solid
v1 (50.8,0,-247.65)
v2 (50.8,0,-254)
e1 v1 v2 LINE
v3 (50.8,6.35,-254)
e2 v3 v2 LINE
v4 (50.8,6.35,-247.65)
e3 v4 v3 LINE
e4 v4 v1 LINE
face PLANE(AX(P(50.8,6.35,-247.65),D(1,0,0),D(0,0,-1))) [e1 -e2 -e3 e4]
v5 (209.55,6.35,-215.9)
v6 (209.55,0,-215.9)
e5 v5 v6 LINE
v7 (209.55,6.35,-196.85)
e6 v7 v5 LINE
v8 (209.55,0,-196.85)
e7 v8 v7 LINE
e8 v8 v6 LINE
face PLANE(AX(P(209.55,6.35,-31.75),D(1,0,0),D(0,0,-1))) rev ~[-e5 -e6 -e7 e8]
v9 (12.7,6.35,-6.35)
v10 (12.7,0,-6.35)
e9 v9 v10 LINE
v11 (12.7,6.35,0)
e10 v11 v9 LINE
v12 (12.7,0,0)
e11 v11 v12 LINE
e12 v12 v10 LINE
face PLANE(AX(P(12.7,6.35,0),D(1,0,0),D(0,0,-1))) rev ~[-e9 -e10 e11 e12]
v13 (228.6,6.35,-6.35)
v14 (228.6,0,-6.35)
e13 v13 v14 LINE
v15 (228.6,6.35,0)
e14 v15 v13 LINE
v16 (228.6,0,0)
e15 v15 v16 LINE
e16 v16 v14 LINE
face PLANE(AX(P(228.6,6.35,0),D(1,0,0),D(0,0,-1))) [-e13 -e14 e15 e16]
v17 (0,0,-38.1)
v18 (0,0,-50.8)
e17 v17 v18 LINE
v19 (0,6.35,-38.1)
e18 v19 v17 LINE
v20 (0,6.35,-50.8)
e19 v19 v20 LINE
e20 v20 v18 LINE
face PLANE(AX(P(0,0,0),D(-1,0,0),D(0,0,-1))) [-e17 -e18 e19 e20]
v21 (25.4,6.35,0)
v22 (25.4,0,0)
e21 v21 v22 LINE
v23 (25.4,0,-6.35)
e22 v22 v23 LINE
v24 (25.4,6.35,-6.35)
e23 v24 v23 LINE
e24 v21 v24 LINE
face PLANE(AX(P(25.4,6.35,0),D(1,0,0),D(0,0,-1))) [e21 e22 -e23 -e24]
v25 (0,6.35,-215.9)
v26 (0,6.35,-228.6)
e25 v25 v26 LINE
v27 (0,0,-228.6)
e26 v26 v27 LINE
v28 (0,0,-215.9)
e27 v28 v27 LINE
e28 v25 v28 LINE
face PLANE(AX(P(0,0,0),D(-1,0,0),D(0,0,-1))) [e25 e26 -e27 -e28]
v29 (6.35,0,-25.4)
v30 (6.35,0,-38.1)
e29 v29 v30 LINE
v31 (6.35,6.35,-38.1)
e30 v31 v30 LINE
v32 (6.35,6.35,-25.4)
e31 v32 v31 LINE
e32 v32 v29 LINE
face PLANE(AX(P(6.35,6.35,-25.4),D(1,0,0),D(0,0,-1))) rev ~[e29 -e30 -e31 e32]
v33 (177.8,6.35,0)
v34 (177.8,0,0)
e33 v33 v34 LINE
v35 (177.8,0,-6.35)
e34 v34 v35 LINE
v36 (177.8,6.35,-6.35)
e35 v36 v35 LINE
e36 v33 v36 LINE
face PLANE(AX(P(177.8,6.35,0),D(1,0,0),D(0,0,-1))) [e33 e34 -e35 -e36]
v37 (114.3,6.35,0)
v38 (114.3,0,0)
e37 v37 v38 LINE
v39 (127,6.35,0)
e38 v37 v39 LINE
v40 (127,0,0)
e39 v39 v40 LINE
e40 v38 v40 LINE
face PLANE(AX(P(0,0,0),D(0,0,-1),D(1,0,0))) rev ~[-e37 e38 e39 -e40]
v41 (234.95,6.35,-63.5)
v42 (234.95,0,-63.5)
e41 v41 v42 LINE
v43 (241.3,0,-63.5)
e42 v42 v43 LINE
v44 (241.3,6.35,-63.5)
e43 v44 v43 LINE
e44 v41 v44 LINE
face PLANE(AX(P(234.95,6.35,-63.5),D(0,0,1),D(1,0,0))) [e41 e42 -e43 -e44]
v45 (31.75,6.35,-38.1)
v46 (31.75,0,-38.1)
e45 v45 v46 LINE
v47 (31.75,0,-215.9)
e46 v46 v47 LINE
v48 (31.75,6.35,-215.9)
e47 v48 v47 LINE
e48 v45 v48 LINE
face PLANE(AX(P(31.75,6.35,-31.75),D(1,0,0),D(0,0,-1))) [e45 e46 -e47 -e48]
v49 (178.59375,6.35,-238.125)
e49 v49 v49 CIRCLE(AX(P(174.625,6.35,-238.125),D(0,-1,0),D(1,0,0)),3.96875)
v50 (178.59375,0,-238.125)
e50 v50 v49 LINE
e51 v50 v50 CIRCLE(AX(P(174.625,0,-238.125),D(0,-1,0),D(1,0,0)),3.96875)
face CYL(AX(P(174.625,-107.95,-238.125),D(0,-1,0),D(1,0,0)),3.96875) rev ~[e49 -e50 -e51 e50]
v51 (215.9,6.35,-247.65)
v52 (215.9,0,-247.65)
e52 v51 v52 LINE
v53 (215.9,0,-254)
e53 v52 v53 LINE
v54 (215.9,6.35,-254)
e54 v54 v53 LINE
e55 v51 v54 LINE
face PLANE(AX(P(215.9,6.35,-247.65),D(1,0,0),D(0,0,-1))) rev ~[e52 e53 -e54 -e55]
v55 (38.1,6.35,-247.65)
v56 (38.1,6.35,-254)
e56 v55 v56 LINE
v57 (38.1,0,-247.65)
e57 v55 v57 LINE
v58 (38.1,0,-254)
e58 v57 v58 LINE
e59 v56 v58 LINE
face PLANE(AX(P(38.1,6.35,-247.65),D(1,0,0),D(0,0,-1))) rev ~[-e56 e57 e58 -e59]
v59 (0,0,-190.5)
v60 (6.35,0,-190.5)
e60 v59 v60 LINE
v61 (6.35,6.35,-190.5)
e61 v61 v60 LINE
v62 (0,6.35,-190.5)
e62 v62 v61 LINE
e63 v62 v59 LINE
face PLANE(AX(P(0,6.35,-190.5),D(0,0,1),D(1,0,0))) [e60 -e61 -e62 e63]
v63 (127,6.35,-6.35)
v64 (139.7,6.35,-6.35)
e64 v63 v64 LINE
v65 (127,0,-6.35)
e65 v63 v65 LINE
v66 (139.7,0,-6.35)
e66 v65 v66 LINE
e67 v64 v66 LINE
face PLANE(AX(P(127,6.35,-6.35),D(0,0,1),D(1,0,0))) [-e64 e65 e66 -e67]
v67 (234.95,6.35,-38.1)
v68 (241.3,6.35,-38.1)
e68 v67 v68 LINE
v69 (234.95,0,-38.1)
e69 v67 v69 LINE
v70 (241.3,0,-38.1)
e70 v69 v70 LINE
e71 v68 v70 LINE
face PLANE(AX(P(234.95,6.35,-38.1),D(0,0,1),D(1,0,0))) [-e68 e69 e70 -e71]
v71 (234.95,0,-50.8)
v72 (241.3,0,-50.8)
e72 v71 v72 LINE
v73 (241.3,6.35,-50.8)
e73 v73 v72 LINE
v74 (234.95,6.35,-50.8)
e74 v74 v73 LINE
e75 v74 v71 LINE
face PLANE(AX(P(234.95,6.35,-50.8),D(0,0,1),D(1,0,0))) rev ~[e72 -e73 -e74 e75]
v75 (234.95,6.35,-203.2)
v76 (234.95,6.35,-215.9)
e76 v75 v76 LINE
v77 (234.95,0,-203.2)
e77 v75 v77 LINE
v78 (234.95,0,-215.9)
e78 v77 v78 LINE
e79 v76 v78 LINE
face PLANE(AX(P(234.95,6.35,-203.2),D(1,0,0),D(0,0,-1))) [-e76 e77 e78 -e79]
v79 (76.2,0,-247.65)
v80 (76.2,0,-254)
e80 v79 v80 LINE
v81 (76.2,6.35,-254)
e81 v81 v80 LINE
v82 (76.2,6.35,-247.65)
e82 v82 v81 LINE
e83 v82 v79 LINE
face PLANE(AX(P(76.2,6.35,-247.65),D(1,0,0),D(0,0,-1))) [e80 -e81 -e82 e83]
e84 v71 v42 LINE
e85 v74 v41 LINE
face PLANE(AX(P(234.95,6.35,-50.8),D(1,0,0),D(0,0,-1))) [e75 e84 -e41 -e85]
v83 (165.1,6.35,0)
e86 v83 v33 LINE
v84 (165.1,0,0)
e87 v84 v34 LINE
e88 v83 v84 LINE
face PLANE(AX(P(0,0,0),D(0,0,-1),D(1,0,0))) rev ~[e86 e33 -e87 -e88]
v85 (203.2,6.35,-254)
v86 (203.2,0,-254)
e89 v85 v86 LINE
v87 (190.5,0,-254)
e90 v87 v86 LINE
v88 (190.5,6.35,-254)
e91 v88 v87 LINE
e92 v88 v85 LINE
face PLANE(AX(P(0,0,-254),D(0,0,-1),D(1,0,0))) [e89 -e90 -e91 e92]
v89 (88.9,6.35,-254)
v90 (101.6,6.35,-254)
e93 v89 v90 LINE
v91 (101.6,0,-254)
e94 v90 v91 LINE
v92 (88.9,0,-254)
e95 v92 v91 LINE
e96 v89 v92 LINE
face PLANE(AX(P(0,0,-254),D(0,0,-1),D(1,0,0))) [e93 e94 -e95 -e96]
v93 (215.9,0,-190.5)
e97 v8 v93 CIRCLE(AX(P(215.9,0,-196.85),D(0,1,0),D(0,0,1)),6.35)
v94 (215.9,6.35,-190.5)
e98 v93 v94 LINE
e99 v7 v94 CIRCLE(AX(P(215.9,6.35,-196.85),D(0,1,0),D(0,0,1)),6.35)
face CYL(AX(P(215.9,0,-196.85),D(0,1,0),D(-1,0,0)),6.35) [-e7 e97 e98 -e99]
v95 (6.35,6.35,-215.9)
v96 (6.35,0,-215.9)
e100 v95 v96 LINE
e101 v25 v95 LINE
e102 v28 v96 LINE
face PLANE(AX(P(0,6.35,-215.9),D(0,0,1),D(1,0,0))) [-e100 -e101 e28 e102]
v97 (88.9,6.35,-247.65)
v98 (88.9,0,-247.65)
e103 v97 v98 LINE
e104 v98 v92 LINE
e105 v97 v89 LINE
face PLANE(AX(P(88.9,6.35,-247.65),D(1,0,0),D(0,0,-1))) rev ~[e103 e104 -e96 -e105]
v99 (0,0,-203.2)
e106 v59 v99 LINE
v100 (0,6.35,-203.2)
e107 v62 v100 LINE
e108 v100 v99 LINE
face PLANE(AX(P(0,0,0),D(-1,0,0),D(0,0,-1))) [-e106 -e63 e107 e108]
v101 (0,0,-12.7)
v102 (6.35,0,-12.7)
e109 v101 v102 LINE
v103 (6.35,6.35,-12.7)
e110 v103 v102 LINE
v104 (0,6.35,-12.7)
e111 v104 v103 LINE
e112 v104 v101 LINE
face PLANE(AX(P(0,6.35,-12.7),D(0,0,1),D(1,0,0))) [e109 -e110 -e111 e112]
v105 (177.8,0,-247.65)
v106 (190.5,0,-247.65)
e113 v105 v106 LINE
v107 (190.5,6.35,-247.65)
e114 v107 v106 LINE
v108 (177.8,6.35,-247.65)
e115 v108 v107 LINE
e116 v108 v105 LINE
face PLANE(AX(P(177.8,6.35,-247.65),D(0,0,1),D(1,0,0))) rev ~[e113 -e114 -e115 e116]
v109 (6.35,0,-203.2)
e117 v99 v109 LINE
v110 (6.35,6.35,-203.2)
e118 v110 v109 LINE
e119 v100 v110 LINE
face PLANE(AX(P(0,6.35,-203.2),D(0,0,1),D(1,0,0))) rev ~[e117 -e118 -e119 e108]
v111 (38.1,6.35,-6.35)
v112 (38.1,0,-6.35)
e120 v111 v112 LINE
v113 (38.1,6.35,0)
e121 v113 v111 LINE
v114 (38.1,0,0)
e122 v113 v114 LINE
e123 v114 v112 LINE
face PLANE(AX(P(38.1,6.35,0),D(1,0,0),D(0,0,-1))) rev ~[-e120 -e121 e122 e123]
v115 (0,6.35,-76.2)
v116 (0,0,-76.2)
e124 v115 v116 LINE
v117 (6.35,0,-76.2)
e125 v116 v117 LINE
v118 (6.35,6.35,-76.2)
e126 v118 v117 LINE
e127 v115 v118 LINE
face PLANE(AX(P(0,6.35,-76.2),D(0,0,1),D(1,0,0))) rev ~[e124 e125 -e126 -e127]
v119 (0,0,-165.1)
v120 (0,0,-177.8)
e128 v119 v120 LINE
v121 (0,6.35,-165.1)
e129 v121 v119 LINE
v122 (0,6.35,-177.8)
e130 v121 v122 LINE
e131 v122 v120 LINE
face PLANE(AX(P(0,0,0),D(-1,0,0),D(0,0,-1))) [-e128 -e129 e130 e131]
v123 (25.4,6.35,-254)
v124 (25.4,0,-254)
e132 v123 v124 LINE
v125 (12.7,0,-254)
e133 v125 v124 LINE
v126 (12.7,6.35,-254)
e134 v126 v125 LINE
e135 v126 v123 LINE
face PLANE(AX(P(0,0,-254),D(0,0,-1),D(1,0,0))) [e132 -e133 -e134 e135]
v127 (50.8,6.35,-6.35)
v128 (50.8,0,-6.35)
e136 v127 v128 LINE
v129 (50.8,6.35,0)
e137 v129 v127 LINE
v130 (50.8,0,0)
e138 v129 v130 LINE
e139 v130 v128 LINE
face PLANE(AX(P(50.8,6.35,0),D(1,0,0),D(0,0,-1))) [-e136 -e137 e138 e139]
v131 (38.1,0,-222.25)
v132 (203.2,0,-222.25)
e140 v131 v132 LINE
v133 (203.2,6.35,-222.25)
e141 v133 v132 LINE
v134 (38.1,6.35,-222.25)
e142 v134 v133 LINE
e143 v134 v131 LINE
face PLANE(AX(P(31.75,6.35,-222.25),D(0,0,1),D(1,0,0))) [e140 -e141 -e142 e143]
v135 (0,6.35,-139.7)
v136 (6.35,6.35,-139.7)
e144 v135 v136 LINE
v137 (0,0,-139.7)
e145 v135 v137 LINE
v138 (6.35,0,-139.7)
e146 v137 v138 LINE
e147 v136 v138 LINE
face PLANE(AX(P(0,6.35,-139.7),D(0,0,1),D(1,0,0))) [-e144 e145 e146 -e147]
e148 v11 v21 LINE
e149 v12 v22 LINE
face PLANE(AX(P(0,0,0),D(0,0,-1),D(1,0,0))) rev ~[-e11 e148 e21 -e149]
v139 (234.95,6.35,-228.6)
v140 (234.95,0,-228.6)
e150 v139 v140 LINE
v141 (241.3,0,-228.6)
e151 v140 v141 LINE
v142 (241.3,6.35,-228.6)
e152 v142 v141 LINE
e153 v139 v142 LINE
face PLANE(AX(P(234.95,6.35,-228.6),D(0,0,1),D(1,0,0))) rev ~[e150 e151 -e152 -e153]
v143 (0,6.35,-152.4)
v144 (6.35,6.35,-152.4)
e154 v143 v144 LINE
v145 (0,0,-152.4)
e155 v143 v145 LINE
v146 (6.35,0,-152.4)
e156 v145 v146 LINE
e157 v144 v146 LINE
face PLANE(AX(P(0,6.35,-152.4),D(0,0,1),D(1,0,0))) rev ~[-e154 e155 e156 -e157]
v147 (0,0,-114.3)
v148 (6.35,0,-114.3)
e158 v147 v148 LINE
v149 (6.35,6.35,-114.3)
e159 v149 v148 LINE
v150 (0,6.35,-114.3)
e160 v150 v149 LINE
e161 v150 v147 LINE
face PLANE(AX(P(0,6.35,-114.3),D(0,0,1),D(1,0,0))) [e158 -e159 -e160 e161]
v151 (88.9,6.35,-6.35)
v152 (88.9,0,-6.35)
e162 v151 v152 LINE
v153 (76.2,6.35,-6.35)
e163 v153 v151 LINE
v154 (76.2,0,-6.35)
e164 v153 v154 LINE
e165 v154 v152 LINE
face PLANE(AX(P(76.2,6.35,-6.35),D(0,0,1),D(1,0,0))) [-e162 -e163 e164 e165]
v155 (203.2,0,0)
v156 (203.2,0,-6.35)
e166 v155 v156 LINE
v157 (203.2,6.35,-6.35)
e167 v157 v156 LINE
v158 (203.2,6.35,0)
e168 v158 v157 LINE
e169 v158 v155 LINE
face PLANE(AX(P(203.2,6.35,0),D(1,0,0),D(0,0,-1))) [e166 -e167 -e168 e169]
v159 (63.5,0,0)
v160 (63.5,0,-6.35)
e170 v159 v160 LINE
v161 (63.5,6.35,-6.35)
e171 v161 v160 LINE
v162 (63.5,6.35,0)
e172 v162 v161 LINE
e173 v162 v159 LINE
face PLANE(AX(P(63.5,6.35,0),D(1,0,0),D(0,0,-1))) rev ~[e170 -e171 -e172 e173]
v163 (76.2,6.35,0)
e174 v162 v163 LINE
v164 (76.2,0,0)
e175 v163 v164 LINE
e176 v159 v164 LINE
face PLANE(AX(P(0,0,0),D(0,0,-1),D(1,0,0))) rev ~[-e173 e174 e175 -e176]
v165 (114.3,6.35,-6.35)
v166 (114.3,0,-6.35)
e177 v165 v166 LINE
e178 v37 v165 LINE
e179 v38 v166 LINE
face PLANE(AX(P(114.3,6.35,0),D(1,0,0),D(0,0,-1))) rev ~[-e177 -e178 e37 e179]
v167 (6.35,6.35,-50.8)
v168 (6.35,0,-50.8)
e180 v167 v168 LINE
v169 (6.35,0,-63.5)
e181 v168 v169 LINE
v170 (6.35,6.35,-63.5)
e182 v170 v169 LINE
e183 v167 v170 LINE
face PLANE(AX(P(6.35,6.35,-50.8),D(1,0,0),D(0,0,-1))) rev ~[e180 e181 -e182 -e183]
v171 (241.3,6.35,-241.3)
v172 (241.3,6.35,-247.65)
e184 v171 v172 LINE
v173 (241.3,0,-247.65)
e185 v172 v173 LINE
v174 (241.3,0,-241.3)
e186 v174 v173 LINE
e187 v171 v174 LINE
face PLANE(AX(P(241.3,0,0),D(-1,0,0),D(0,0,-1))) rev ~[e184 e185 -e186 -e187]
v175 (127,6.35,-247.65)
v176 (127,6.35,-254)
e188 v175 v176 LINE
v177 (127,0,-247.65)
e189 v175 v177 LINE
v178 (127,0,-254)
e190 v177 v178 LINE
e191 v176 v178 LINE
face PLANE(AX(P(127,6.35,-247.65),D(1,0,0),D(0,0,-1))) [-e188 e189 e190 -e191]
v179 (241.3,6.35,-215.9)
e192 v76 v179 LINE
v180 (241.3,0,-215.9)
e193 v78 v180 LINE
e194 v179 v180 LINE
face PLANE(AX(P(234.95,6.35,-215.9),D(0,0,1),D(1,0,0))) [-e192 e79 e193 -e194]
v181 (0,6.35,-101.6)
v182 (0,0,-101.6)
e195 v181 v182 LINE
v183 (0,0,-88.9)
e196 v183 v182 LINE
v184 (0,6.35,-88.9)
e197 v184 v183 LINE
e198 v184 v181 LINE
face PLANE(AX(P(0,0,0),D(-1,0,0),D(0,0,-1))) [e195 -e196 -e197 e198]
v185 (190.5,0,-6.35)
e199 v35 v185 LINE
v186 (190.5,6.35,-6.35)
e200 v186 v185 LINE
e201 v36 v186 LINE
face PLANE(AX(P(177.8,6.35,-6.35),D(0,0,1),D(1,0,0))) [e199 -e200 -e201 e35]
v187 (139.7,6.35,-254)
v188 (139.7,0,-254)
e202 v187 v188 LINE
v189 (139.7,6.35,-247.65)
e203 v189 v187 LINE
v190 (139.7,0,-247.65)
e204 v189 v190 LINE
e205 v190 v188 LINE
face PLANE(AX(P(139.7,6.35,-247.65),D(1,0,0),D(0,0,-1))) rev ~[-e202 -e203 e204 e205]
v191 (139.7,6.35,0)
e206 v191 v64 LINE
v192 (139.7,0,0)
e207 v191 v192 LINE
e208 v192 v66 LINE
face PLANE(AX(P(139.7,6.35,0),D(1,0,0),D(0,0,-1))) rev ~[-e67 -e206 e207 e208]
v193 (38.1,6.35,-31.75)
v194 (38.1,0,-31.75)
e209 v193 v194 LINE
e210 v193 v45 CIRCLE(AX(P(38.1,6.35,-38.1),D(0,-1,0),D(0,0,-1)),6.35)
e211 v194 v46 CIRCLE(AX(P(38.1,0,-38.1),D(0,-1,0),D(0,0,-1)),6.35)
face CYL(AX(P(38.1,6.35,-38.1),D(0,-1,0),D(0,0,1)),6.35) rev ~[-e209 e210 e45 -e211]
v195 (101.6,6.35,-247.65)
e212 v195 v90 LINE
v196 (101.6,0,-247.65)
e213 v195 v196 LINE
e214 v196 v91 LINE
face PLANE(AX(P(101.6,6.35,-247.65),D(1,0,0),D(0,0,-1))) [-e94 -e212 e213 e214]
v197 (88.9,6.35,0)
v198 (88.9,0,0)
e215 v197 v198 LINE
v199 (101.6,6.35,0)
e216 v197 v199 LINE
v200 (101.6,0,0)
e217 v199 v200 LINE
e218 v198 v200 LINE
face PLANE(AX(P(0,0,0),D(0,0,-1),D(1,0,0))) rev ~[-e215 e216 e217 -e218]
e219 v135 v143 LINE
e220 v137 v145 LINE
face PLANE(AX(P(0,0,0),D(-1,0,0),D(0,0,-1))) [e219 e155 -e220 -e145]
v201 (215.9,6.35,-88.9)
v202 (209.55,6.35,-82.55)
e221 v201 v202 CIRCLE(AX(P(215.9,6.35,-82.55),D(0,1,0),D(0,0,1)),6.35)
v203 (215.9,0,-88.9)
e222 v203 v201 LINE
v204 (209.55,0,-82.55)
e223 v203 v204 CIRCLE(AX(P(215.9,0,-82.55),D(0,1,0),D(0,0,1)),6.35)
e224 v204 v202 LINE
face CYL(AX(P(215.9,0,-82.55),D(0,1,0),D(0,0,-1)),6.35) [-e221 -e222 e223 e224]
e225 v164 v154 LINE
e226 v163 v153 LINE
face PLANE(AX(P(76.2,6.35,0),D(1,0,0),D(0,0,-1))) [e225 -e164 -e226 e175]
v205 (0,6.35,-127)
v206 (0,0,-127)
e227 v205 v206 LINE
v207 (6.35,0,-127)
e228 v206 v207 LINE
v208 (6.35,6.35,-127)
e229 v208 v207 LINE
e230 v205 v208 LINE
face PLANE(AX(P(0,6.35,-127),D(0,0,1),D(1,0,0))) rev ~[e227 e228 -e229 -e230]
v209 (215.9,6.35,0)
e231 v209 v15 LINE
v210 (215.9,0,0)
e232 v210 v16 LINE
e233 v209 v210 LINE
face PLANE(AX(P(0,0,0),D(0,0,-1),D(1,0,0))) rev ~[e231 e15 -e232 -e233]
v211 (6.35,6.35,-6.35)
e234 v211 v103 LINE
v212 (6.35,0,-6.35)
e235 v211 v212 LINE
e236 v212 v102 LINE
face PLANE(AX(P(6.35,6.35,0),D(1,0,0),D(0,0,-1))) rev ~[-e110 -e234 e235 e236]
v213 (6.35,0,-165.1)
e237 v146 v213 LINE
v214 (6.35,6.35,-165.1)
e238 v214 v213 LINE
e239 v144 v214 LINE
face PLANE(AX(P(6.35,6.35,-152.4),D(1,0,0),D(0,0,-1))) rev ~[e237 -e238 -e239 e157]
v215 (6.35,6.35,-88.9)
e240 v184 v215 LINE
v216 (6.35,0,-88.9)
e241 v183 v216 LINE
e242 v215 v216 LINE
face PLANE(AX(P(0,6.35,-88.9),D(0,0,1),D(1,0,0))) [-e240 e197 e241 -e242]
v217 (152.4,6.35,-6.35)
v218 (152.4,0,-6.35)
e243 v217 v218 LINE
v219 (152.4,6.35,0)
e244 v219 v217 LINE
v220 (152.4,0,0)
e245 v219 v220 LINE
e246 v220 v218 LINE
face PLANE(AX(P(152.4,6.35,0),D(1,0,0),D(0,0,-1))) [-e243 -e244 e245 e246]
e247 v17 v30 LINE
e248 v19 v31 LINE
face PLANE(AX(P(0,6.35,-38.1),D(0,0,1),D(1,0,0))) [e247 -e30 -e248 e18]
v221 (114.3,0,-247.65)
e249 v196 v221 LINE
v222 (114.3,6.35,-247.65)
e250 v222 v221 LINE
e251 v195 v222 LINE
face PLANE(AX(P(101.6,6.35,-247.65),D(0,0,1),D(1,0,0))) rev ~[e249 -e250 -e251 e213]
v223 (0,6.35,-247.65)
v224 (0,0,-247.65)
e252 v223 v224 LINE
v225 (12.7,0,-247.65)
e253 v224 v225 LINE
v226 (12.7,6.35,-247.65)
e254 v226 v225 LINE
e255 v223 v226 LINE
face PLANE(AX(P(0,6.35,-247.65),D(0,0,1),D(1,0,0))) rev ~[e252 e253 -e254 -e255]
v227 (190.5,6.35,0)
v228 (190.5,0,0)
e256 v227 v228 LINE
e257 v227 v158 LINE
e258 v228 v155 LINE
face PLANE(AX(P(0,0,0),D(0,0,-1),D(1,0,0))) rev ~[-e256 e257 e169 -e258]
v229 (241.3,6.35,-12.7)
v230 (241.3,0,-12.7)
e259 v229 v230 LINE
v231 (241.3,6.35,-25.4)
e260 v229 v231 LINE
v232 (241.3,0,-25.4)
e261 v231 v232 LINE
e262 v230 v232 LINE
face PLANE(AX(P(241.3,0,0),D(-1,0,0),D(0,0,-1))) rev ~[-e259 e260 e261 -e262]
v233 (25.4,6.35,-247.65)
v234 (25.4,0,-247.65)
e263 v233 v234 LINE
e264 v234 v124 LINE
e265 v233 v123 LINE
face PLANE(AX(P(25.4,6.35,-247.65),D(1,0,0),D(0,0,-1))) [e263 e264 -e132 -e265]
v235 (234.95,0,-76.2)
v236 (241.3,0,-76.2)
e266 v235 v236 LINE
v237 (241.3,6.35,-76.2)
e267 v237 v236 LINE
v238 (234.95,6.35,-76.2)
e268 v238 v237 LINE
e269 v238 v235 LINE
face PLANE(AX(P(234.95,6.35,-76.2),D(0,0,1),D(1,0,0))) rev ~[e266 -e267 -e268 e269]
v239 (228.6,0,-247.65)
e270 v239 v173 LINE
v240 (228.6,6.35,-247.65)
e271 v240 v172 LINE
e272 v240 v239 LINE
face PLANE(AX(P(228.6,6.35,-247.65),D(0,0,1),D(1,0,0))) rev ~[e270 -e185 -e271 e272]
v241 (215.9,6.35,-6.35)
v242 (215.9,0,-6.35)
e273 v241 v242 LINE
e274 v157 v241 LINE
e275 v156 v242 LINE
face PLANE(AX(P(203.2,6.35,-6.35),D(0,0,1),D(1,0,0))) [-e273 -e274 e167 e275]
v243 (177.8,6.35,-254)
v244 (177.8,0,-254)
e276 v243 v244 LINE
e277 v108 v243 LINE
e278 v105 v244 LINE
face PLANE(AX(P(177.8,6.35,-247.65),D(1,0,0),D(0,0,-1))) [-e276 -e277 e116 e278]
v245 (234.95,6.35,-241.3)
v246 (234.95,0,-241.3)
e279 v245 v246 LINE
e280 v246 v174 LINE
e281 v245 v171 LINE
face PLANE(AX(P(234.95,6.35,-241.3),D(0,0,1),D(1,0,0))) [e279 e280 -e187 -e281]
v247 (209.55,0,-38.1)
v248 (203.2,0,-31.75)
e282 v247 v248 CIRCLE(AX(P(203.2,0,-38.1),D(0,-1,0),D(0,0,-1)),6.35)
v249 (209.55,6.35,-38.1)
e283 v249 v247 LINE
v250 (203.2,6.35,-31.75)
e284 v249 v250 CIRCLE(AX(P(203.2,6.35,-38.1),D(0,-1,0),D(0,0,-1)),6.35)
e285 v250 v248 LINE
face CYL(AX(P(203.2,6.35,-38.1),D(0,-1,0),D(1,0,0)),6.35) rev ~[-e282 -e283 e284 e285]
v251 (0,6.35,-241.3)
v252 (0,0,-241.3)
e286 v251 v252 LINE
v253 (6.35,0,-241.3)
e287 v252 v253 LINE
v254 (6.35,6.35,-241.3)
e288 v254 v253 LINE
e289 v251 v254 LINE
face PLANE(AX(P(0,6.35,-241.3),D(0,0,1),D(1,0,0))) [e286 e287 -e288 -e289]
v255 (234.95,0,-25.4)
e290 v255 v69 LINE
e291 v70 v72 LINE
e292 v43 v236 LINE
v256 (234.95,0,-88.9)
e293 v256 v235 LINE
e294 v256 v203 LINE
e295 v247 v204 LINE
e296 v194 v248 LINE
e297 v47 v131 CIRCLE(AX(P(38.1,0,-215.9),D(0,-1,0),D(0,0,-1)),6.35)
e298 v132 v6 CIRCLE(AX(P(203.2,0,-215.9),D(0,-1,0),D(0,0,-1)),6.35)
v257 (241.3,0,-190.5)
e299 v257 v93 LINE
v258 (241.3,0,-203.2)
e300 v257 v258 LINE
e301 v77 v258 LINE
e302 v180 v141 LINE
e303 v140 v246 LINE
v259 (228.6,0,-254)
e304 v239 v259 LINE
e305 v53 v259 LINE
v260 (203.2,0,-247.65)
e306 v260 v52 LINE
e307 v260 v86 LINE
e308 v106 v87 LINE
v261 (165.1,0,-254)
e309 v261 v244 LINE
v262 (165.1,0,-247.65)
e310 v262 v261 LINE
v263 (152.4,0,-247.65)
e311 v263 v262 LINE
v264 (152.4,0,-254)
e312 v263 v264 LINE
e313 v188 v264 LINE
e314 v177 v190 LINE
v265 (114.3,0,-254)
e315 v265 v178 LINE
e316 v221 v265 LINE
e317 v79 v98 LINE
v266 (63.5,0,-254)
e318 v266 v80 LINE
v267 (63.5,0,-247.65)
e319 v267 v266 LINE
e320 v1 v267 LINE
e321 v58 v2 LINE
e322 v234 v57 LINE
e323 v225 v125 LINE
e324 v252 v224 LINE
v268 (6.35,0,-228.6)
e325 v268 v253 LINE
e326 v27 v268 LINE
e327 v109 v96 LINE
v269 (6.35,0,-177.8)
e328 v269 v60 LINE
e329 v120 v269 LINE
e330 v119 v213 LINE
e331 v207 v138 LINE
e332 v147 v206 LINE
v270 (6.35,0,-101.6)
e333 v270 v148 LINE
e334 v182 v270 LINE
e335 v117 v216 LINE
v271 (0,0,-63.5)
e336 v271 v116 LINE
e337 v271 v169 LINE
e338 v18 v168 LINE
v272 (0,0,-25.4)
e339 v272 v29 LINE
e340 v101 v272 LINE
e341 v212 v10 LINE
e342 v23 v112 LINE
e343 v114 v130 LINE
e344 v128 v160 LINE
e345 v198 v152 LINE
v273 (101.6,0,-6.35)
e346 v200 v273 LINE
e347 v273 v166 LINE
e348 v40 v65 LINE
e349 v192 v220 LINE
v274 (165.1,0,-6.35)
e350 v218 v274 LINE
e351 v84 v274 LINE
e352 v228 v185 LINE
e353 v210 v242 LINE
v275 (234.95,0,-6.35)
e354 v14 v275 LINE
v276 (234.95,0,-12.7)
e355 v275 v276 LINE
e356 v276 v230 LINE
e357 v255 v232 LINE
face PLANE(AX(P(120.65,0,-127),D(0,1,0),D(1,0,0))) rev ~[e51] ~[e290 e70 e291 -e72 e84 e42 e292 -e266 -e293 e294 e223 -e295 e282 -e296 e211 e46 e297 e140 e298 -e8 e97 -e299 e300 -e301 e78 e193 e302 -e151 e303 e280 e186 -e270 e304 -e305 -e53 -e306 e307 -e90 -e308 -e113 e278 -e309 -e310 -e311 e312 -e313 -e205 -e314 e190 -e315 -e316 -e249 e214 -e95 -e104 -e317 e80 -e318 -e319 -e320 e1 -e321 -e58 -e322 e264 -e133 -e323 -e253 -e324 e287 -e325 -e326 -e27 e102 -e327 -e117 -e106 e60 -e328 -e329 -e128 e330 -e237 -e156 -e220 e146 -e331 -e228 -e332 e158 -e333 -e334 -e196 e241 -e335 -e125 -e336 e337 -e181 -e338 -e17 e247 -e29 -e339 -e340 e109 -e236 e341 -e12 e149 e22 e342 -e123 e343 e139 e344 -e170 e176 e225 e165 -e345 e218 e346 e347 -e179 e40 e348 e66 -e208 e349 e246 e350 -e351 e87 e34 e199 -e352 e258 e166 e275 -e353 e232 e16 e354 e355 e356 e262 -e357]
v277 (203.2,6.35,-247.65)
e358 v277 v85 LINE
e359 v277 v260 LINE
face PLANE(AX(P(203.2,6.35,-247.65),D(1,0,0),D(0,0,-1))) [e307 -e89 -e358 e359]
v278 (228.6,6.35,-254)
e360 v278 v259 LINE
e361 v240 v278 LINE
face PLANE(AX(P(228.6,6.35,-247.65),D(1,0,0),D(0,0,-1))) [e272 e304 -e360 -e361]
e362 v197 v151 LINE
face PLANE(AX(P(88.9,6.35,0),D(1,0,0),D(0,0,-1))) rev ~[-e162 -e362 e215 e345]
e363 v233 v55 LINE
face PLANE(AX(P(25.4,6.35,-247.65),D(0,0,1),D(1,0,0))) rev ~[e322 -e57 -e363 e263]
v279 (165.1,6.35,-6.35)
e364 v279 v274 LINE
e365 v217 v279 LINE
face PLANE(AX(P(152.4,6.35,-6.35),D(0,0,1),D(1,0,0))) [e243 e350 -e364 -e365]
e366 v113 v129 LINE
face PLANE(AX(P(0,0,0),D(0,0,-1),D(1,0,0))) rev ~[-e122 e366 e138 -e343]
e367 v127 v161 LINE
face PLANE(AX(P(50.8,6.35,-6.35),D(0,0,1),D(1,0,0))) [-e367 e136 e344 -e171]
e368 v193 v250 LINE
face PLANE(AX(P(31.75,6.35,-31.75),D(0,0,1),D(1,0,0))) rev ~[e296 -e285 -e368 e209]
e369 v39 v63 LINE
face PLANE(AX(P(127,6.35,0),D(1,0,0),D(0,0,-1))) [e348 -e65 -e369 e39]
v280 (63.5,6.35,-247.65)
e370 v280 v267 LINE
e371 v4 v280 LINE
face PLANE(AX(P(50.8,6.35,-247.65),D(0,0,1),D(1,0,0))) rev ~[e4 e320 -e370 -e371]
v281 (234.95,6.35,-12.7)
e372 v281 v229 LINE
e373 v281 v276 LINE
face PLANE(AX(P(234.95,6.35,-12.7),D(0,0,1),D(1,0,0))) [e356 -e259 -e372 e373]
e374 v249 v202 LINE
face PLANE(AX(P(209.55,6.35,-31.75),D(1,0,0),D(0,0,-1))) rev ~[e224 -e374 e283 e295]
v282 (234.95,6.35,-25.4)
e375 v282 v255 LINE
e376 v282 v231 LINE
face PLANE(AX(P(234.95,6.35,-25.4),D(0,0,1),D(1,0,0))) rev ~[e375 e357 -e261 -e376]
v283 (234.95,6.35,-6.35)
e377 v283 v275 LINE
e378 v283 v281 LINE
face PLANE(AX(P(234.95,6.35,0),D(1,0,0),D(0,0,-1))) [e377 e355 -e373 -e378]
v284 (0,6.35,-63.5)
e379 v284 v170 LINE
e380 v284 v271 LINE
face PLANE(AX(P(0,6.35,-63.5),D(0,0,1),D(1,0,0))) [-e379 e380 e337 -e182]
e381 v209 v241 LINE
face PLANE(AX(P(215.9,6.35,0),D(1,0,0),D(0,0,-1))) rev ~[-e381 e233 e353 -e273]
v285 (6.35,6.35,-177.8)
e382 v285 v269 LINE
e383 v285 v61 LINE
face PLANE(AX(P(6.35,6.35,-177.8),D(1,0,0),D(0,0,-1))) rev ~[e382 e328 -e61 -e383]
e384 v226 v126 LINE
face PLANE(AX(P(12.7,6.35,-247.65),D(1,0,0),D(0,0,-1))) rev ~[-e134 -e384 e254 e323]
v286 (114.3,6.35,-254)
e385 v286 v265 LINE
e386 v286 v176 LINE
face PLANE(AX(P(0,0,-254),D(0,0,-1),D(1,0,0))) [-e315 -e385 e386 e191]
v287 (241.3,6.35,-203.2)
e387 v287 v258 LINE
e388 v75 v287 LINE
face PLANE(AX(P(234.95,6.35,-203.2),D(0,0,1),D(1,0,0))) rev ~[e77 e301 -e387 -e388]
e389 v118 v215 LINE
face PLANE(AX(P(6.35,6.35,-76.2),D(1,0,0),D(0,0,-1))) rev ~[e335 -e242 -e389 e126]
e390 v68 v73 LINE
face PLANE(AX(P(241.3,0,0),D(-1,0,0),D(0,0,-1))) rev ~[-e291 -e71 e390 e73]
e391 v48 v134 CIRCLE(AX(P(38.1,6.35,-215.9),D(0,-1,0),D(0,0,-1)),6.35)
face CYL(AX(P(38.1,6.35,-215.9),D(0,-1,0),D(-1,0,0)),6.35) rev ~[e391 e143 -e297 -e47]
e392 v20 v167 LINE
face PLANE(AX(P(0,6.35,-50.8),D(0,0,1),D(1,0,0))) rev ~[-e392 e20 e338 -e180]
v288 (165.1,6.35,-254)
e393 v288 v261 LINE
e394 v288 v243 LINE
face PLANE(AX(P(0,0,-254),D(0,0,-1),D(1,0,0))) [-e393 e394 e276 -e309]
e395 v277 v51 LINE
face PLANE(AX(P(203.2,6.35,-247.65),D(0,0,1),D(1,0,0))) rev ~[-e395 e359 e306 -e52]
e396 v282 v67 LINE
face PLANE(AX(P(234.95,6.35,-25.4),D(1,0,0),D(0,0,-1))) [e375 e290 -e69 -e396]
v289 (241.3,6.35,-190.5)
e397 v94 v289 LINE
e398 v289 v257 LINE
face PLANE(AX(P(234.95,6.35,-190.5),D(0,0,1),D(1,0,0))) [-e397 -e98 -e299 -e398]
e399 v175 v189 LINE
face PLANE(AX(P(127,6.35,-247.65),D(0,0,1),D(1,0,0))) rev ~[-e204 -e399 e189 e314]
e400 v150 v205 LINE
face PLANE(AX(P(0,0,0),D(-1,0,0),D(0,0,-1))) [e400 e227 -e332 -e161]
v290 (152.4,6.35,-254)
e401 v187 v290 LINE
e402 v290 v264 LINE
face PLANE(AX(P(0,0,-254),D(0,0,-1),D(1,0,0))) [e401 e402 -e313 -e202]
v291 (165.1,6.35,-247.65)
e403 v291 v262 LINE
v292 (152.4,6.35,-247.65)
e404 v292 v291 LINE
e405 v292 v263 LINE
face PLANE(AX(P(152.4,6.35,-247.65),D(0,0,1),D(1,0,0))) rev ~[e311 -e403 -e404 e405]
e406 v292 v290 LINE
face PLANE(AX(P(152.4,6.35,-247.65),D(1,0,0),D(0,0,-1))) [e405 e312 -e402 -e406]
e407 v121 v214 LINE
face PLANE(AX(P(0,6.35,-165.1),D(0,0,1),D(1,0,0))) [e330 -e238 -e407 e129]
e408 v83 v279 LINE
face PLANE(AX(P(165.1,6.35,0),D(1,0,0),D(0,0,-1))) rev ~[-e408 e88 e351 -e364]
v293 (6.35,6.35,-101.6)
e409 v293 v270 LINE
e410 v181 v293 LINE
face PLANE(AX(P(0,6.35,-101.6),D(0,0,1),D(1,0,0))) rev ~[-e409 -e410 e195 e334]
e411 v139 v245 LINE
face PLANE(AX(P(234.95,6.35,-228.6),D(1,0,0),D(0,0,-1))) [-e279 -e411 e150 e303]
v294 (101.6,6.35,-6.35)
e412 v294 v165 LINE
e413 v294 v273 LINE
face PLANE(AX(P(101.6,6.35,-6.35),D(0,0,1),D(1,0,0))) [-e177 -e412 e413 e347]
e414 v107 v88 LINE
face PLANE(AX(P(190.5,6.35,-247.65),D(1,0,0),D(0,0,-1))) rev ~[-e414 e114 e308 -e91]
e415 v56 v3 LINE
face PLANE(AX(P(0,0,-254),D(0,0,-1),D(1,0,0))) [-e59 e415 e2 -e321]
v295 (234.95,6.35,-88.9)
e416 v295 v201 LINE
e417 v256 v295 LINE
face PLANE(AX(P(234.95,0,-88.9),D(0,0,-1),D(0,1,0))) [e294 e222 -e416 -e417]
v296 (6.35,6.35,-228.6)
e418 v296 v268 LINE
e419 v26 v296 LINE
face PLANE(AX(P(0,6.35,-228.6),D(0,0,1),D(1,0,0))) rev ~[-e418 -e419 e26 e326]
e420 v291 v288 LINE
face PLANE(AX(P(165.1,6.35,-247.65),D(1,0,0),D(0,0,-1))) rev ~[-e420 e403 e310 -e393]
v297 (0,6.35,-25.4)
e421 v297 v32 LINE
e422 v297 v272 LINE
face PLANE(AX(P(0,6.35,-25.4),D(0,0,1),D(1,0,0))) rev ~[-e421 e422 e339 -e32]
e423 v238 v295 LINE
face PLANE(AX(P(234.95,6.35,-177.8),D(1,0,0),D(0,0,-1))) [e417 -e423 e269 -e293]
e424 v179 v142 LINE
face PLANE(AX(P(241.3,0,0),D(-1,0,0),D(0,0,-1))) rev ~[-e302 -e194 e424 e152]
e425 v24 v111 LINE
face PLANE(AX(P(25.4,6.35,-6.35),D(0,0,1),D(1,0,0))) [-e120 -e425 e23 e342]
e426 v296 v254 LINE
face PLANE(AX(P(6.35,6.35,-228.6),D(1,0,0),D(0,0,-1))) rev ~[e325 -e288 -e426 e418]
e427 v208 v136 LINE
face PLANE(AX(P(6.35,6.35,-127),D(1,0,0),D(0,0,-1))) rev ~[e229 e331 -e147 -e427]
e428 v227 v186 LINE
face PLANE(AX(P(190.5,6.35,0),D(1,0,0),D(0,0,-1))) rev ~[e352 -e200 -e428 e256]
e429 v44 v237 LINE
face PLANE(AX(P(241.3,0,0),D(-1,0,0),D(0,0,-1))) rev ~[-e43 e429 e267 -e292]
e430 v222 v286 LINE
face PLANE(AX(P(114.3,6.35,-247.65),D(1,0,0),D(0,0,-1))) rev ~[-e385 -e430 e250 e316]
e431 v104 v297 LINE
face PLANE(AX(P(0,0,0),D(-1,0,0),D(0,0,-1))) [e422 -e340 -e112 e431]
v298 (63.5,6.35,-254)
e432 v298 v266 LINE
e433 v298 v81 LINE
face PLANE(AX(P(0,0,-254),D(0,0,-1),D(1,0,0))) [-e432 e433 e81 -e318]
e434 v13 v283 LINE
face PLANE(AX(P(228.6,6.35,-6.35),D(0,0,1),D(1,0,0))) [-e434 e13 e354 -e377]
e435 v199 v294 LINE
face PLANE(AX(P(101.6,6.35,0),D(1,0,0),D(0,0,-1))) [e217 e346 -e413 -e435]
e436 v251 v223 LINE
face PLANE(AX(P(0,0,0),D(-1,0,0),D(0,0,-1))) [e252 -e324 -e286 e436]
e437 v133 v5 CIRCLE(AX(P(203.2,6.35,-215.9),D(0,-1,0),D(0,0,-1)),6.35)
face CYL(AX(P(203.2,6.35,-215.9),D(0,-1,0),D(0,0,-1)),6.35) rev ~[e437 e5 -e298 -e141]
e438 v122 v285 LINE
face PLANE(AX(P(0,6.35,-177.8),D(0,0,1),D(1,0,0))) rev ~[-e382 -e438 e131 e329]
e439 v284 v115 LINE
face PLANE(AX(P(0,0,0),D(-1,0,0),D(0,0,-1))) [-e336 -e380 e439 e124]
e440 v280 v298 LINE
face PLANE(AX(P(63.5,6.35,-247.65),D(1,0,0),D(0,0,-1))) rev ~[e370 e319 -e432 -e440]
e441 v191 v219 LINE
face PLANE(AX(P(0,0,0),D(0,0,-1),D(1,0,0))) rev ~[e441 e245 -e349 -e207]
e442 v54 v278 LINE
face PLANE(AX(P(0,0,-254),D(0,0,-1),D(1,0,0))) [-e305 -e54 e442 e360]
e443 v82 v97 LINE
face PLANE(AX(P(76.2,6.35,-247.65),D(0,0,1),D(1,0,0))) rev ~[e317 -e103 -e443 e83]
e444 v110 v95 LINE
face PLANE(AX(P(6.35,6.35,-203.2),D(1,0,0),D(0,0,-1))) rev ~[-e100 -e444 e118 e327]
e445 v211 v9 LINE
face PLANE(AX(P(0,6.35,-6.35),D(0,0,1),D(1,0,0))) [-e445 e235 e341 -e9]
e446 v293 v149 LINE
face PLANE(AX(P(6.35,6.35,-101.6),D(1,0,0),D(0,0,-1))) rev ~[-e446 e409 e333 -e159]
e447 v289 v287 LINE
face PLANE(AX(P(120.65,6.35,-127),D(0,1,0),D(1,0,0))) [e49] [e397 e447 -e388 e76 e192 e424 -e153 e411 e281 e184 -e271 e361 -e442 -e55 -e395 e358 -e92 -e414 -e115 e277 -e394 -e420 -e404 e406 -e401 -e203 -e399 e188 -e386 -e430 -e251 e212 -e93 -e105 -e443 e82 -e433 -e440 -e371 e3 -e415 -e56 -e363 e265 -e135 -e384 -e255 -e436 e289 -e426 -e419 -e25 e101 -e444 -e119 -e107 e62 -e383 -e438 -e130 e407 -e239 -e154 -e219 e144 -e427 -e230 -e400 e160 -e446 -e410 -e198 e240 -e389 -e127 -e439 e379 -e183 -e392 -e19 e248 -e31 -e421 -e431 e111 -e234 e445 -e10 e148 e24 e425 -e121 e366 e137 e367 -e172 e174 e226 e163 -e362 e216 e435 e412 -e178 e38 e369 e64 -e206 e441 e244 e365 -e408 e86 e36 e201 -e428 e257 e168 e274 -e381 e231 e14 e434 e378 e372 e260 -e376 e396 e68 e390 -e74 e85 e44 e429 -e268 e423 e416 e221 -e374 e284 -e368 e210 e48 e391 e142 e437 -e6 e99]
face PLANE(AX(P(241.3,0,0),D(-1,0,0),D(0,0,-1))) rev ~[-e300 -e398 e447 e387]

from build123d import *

# Parameters (mm, degrees)
SKETCH1_W               = 241.3
SKETCH1_H               = 254
BOSS_EXTRUDE1_DEPTH     = 6.35
SKETCH2_W               = 6.35
SKETCH2_H               = 12.7
CUT_EXTRUDE1_DEPTH      = 7.35
LPATTERN1_COUNT         = 10
LPATTERN1_PITCH         = 25.4
SKETCH3_W               = 12.7
SKETCH3_H               = 6.35
CUT_EXTRUDE2_DEPTH      = 7.35
LPATTERN2_COUNT         = 10
LPATTERN2_PITCH         = 25.4
SKETCH4_W               = 177.8
SKETCH4_H               = 190.5
CUT_EXTRUDE3_DEPTH      = 7.35
SKETCH5_W               = 101.6
SKETCH5_H               = 6.35
CUT_EXTRUDE4_DEPTH      = 7.35
CUT_EXTRUDE4_DEPTH_BACK = 76.2
FILLET1_R               = 6.35
SKETCH6_R               = 3.96875
CUT_EXTRUDE5_DEPTH      = 115.3


with BuildPart() as part:
    # Sketch1 → Boss-Extrude1 (new body)
    with BuildSketch(Plane(origin=(0, 0, 0), x_dir=(1, 0, 0), z_dir=(0, 1, 0))):
        with Locations((120.65, 127)):
            Rectangle(SKETCH1_W, SKETCH1_H)
    extrude(amount=BOSS_EXTRUDE1_DEPTH)

    # Sketch2 → Cut-Extrude1 (cut, through all)
    with BuildSketch(Plane(origin=(0, 6.35, 0), x_dir=(1, 0, 0), z_dir=(0, 1, 0))):
        with Locations((3.175, 6.35)):
            Rectangle(SKETCH2_W, SKETCH2_H)
        with Locations((238.125, 6.35)):
            Rectangle(SKETCH2_W, SKETCH2_H)
    cut_extrude1 = extrude(amount=-CUT_EXTRUDE1_DEPTH, mode=Mode.SUBTRACT)

    # LPattern1: Cut-Extrude1 ×10
    with Locations(*[(0, 0, -i * LPATTERN1_PITCH) for i in range(1, LPATTERN1_COUNT)]):
        add(cut_extrude1, mode=Mode.SUBTRACT)

    # Sketch3 → Cut-Extrude2 (cut, through all)
    with BuildSketch(Plane(origin=(0, 6.35, 0), x_dir=(1, 0, 0), z_dir=(0, 1, 0))):
        with Locations((6.35, 3.175)):
            Rectangle(SKETCH3_W, SKETCH3_H)
        with Locations((6.35, 250.825)):
            Rectangle(SKETCH3_W, SKETCH3_H)
    cut_extrude2 = extrude(amount=-CUT_EXTRUDE2_DEPTH, mode=Mode.SUBTRACT)

    # LPattern2: Cut-Extrude2 ×10
    with Locations(*[(i * LPATTERN2_PITCH, 0, 0) for i in range(1, LPATTERN2_COUNT)]):
        add(cut_extrude2, mode=Mode.SUBTRACT)

    # Sketch4 → Cut-Extrude3 (cut, through all)
    with BuildSketch(Plane(origin=(0, 6.35, 0), x_dir=(1, 0, 0), z_dir=(0, 1, 0))):
        with Locations((120.65, 127)):
            Rectangle(SKETCH4_W, SKETCH4_H)
    extrude(amount=-CUT_EXTRUDE3_DEPTH, mode=Mode.SUBTRACT)

    # Sketch5 → Cut-Extrude4 (cut, two sides)
    with BuildSketch(Plane(origin=(234.95, 0, 0), x_dir=(0, 0, -1), z_dir=(1, 0, 0))) as cut_extrude4_sk:
        with Locations((139.7, 3.175)):
            Rectangle(SKETCH5_W, SKETCH5_H)
    extrude(amount=CUT_EXTRUDE4_DEPTH, mode=Mode.SUBTRACT)
    extrude(cut_extrude4_sk.sketch, amount=-CUT_EXTRUDE4_DEPTH_BACK, mode=Mode.SUBTRACT)

    # Fillet1
    fillet1_edges = [part.edges().sort_by_distance(p)[0] for p in [
        (31.75, 3.175, -31.75),
        (31.75, 3.175, -222.25),
        (209.55, 3.175, -222.25),
        (209.55, 3.175, -31.75),
        (209.55, 3.175, -88.9),
        (209.55, 3.175, -190.5),
    ]]
    fillet(fillet1_edges, radius=FILLET1_R)

    # Sketch6 → Cut-Extrude5 (cut, through all)
    with BuildSketch(Plane.XZ.offset(107.95)):
        with Locations((174.625, -238.125)):
            Circle(SKETCH6_R)
    extrude(amount=-CUT_EXTRUDE5_DEPTH, mode=Mode.SUBTRACT)


solid = part.part
